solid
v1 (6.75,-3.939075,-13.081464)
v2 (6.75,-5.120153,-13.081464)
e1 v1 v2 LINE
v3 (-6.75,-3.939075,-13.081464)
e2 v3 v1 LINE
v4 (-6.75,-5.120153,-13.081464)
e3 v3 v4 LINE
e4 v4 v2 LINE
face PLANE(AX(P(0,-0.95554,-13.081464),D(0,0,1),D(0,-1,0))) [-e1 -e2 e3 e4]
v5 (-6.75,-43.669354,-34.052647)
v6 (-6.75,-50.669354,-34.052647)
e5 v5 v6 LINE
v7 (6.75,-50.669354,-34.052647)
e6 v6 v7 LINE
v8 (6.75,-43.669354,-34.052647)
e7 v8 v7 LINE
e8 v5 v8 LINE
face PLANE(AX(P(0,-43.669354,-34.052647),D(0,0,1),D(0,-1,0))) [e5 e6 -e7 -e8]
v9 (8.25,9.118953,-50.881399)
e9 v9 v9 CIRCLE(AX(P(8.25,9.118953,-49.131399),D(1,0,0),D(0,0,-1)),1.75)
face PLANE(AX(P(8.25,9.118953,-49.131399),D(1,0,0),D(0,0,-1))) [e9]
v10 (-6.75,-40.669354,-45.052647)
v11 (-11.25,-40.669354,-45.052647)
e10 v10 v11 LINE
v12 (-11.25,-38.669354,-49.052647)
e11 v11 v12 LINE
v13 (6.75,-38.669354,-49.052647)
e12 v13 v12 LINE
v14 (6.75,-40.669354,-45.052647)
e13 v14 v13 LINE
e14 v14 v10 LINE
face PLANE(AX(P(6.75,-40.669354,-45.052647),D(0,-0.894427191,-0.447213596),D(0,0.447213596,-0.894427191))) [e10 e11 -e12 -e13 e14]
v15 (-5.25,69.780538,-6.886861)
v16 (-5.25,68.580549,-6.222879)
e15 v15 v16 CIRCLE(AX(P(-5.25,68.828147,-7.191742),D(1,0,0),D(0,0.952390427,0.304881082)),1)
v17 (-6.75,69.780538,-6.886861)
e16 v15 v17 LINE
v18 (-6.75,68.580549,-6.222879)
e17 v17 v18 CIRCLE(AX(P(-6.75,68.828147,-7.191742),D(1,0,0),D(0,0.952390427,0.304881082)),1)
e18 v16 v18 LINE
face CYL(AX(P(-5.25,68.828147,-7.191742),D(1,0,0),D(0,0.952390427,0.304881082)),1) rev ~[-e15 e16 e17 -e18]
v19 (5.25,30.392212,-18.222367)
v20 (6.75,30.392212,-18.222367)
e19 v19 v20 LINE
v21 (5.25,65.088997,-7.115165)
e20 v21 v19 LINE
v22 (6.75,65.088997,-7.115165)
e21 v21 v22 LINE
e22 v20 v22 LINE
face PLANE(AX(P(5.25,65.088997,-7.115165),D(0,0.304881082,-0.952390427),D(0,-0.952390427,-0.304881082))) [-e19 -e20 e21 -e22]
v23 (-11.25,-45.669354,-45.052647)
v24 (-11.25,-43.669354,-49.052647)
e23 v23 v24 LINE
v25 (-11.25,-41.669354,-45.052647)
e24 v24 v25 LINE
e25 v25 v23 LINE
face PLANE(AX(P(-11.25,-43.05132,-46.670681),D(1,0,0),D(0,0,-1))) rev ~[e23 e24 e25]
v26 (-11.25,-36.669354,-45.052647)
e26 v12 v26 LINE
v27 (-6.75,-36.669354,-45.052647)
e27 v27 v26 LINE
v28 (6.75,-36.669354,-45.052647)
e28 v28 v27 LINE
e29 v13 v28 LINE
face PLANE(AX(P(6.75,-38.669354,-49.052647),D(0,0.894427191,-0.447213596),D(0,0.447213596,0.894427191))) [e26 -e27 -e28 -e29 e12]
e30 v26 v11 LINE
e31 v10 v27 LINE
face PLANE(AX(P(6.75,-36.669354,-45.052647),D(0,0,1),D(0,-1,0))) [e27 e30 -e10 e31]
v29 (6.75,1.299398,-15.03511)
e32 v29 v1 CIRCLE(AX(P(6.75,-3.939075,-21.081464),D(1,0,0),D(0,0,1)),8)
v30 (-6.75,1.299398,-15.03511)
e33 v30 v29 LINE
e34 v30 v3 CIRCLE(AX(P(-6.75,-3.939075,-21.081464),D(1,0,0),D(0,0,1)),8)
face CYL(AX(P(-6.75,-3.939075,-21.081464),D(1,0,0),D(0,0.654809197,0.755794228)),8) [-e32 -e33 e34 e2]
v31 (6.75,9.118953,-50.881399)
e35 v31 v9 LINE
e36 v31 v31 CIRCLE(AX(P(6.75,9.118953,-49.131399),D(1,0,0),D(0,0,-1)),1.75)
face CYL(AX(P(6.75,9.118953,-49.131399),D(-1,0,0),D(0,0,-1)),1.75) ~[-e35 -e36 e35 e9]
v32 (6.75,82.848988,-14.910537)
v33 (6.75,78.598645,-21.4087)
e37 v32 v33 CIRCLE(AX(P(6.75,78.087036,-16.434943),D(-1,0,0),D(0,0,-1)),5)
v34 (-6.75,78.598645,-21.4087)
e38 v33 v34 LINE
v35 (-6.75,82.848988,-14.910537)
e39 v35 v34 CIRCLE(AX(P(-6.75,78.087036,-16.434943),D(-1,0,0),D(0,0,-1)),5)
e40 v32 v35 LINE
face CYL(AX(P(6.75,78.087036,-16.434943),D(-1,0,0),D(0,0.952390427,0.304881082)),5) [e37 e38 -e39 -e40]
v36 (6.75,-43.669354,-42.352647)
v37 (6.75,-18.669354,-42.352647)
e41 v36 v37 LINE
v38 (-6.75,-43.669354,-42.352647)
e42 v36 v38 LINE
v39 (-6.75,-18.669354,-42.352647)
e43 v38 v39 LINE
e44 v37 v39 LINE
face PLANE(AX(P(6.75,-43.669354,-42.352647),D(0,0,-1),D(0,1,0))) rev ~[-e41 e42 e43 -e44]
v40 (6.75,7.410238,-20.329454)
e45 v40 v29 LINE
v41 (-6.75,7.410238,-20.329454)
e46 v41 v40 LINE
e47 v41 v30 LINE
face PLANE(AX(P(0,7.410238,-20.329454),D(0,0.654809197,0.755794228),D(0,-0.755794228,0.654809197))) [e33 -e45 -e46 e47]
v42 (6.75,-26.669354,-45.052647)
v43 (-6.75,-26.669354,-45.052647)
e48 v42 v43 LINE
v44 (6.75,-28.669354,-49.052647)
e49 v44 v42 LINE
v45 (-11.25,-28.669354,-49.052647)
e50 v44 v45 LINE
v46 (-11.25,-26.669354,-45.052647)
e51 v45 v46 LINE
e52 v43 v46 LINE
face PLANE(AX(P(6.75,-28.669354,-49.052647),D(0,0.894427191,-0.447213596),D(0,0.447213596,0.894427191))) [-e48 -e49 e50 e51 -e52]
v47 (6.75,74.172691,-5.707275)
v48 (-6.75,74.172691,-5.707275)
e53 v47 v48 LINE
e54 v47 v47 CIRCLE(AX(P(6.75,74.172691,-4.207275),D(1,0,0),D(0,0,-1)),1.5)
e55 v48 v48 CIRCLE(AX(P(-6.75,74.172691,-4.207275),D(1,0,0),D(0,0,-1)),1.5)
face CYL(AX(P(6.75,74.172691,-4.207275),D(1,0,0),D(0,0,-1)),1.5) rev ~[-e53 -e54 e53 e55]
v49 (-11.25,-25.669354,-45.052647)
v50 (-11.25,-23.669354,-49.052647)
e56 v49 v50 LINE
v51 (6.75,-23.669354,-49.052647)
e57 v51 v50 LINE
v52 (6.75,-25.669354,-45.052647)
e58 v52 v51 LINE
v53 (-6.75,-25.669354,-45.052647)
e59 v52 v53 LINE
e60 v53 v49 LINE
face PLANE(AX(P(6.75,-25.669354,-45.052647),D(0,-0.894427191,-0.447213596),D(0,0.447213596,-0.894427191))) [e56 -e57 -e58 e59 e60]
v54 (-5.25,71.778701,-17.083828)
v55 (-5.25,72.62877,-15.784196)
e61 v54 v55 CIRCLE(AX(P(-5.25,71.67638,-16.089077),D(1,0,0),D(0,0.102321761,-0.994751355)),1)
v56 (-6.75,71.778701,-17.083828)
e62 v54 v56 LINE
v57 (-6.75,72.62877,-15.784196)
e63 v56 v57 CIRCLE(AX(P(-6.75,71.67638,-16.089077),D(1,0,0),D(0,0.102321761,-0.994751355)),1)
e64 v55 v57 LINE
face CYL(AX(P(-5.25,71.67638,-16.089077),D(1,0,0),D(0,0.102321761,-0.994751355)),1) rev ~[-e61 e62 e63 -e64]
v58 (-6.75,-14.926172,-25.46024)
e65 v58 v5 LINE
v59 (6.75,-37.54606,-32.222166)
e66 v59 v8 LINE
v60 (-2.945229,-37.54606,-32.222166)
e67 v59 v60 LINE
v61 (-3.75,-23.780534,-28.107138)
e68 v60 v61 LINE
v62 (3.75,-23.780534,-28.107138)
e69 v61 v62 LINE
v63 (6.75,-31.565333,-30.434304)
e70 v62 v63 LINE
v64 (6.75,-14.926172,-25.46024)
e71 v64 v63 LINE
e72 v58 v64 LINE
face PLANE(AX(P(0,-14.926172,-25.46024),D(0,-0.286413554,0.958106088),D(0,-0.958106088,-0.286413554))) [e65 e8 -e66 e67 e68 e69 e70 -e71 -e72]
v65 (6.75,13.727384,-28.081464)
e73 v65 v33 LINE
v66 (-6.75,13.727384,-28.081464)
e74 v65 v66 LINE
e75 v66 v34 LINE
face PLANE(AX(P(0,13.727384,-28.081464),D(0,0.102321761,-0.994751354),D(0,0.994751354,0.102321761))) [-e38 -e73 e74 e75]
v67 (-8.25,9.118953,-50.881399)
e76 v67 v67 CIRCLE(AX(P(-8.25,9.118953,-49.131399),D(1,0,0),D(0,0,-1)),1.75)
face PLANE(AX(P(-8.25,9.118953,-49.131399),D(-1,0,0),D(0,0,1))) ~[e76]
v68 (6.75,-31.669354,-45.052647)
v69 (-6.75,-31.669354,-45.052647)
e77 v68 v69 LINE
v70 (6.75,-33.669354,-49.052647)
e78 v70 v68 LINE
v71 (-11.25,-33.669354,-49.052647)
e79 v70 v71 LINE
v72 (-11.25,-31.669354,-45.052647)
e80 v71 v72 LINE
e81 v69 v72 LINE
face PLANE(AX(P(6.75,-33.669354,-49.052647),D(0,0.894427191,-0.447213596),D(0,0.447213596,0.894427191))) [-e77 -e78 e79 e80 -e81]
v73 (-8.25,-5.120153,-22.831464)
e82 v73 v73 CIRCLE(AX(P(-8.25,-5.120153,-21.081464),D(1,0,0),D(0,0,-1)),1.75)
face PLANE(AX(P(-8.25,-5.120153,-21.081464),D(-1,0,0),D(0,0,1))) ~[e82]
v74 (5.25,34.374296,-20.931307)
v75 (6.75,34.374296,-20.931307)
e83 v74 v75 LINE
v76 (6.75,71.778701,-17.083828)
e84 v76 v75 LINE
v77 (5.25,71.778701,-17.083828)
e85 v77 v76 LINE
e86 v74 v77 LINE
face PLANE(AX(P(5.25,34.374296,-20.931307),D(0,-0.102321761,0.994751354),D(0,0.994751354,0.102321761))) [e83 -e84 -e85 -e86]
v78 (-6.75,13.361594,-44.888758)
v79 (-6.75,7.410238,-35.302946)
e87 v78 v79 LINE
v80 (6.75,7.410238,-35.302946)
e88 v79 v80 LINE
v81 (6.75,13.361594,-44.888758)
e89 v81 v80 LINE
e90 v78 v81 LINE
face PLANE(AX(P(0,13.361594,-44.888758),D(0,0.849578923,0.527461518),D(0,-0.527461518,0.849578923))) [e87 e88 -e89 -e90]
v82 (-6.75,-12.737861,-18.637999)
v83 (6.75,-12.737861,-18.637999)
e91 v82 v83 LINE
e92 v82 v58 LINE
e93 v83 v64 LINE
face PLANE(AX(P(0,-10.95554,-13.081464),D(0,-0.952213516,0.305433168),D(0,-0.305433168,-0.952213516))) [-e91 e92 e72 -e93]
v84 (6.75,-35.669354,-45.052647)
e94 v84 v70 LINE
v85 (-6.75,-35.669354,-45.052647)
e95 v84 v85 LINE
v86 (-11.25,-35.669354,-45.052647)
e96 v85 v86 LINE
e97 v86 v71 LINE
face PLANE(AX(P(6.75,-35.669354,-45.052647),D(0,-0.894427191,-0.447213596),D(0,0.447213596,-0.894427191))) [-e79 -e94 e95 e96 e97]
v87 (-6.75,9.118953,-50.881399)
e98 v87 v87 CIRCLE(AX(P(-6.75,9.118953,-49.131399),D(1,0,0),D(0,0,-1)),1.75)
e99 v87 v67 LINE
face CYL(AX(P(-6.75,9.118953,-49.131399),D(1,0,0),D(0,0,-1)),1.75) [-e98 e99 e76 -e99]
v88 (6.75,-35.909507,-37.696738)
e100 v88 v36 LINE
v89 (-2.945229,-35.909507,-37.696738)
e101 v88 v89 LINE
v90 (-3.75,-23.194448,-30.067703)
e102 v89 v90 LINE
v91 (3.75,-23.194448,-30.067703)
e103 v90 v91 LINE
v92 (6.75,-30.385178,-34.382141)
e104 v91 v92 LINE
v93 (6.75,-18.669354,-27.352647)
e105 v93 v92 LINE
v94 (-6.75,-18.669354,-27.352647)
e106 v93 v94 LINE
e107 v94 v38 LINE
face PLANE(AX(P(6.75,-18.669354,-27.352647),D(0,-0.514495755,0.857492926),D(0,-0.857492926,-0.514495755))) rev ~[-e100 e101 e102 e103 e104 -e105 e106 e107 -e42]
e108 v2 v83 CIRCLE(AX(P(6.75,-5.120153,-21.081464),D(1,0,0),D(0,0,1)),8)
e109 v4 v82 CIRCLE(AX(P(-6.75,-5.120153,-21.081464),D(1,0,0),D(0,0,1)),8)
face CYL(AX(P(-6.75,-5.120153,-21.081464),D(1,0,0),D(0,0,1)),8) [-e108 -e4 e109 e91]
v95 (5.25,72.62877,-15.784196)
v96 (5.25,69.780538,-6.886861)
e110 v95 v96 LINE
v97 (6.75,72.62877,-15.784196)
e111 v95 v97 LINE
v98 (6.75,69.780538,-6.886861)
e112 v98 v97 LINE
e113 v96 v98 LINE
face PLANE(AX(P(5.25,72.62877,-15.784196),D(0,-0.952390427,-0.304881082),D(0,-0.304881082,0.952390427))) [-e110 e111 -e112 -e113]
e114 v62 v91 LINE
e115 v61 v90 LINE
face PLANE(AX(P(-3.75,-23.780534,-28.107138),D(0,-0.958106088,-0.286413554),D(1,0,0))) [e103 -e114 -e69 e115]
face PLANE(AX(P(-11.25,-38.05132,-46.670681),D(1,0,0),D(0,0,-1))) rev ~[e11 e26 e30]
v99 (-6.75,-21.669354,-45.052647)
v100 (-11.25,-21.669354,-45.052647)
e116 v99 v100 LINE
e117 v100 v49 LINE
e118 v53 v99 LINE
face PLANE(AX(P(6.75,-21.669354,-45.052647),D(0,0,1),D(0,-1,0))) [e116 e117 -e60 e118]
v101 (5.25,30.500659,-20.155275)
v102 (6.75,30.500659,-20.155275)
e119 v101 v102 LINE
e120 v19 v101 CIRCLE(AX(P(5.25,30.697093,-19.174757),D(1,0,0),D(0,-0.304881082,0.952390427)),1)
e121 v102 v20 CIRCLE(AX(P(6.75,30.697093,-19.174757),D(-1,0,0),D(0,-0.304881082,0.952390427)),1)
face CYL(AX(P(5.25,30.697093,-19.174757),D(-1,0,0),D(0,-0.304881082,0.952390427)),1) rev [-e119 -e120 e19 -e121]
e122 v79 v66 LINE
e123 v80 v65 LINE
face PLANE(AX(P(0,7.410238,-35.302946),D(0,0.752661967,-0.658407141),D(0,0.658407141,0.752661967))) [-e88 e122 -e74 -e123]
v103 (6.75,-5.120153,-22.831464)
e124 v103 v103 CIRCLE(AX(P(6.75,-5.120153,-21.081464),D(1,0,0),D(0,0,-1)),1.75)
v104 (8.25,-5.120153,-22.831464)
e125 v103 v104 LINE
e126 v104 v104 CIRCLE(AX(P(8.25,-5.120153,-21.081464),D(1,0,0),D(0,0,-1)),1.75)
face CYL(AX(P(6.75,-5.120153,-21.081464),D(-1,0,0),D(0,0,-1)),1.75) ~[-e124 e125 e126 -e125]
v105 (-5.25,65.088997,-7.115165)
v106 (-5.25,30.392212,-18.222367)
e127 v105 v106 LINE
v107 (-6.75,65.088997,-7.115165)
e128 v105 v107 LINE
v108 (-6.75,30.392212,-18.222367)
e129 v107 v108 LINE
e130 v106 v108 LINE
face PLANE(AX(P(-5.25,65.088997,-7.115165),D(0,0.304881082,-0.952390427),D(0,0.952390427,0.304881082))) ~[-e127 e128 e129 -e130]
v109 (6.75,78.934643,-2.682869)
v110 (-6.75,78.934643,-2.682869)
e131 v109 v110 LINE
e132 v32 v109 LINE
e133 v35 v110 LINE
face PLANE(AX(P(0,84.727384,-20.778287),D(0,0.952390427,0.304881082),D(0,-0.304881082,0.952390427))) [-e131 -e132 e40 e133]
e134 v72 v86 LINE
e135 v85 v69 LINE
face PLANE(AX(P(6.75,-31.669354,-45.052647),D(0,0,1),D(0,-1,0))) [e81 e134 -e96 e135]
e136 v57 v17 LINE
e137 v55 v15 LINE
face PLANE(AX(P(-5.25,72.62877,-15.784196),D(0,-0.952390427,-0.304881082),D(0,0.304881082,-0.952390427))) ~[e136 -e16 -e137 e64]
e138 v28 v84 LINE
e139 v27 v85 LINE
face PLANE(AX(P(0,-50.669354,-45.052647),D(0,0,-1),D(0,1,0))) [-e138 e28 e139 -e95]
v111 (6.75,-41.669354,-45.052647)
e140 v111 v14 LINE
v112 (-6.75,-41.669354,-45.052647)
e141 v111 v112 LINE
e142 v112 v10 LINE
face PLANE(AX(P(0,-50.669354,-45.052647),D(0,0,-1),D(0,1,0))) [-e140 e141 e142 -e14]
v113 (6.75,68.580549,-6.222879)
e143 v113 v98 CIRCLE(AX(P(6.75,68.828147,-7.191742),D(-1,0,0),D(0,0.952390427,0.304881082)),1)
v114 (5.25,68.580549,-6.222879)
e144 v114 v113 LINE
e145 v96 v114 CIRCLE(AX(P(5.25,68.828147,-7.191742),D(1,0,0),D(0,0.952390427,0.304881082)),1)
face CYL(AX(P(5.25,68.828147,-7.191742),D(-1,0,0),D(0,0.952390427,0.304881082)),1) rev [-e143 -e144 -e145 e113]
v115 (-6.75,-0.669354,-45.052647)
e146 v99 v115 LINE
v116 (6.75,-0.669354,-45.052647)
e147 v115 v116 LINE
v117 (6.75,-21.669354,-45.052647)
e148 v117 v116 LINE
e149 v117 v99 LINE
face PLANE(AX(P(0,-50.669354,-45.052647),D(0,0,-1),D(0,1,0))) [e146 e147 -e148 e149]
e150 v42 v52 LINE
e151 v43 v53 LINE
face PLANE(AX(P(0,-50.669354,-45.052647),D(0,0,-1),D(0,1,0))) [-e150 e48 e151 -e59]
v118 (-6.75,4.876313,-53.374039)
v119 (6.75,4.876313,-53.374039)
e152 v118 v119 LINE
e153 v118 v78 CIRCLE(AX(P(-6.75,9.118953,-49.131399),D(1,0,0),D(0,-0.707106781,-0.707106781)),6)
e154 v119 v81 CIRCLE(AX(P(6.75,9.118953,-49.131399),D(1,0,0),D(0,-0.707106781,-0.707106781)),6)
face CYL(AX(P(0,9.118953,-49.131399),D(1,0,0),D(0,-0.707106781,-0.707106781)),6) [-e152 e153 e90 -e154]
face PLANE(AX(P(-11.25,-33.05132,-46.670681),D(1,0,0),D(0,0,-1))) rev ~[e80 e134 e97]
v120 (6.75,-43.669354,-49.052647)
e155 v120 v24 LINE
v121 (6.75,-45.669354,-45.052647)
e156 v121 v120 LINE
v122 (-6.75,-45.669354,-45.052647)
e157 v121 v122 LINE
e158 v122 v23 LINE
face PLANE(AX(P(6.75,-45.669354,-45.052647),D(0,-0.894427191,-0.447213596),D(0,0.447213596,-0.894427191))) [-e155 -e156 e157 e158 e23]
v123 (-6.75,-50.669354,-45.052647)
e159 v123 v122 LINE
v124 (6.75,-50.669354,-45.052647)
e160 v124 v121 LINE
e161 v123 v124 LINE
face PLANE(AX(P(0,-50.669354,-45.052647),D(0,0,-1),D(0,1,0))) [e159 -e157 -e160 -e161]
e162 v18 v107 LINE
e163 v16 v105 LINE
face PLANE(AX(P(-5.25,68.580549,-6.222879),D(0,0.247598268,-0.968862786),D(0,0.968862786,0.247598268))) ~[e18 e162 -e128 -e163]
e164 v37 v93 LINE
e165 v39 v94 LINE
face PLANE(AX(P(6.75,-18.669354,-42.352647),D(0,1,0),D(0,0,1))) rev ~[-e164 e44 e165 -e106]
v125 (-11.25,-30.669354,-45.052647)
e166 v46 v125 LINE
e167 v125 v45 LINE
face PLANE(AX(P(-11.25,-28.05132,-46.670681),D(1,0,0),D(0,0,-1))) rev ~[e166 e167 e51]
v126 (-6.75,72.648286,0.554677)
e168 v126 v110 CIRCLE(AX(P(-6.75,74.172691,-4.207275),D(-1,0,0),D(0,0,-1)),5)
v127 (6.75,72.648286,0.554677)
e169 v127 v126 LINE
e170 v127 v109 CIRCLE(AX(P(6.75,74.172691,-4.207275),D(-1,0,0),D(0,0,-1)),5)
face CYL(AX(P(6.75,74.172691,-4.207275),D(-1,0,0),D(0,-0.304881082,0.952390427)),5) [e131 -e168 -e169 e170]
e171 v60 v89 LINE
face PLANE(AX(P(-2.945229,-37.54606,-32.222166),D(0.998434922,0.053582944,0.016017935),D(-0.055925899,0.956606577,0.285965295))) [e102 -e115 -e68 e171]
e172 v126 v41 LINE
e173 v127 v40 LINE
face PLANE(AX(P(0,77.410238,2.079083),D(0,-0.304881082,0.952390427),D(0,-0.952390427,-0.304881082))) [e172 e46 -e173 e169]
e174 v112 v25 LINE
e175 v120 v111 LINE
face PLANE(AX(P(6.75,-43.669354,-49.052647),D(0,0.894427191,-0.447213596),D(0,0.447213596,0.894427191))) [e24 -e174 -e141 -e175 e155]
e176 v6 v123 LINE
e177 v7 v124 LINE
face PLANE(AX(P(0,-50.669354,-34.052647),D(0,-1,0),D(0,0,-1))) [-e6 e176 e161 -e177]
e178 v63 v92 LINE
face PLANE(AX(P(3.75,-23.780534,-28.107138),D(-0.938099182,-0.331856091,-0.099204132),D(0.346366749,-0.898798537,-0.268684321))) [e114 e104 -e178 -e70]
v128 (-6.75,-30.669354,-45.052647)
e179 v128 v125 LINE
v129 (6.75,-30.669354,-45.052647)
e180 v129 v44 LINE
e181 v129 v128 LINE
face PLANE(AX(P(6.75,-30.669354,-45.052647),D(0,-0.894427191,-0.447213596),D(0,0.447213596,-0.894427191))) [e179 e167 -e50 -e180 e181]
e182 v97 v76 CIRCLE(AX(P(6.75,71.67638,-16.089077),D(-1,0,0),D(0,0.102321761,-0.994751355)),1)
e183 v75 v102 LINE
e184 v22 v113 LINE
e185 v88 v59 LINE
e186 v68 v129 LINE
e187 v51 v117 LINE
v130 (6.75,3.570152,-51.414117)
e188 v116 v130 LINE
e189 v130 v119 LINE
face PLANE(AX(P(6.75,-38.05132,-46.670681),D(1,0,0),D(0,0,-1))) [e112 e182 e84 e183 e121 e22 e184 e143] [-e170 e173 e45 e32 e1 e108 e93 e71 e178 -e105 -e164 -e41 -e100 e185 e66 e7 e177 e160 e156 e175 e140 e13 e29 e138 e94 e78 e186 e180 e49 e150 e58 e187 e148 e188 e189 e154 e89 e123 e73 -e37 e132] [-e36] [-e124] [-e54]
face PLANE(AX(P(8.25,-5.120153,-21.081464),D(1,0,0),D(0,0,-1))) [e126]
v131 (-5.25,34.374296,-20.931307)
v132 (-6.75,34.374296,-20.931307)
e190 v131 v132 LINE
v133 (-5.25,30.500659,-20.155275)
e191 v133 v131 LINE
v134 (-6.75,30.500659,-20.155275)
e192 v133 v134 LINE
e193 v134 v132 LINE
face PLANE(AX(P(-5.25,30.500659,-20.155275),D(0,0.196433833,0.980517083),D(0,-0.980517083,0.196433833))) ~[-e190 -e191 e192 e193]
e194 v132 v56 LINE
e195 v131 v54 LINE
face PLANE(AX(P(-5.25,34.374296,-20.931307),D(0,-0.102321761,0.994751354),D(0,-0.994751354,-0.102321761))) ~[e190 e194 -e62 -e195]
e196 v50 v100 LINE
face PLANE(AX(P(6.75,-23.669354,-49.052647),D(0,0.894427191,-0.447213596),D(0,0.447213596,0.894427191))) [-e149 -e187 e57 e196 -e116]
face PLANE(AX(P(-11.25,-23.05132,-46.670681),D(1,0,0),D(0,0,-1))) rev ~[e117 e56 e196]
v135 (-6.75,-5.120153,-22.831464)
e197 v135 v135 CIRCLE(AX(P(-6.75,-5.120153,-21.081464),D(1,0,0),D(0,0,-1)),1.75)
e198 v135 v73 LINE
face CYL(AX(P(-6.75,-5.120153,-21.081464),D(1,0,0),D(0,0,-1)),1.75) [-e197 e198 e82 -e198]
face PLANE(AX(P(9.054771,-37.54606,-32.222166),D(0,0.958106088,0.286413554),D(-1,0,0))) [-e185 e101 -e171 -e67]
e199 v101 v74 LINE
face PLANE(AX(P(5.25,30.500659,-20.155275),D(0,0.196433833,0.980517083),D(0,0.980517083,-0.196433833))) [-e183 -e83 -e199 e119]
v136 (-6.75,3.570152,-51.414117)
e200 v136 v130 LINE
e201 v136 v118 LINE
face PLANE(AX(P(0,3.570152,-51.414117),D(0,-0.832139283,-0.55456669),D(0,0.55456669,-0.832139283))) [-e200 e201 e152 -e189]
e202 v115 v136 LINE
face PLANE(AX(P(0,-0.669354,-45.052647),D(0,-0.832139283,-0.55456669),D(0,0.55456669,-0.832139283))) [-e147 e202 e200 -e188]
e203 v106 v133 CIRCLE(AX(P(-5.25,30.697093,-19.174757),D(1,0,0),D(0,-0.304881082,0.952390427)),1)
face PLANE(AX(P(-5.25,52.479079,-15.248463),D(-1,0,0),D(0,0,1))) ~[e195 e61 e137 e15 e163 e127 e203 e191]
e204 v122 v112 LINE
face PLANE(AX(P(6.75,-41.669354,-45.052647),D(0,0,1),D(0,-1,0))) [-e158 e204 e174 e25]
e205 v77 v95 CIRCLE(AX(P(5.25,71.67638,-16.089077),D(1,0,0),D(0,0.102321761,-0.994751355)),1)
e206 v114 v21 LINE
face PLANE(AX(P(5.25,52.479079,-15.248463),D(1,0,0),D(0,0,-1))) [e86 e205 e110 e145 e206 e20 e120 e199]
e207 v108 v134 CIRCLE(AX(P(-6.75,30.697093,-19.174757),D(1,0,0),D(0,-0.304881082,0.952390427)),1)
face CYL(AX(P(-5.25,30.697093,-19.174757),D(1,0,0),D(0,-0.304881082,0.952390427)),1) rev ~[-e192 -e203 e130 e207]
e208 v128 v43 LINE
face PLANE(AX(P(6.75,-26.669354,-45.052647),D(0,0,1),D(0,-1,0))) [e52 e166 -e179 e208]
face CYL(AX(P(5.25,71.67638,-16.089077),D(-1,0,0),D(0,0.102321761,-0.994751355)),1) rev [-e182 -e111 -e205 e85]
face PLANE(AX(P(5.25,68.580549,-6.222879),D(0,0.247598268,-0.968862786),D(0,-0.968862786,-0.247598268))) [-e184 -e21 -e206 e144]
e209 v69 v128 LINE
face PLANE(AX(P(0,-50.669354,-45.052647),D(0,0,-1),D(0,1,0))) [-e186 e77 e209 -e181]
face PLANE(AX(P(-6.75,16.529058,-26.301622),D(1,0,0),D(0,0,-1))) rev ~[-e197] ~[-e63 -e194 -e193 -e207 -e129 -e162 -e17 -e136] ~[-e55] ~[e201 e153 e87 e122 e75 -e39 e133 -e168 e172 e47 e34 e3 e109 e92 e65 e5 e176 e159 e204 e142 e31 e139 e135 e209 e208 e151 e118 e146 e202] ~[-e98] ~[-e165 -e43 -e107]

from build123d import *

# Parameters (mm, degrees)
BOSS_EXTRUDE2_DEPTH = 6.75
CUT_EXTRUDE1_DEPTH  = 102.982599985
BOSS_EXTRUDE3_DEPTH = 18
LPATTERN1_COUNT     = 5
LPATTERN1_PITCH     = 5
FILLET1_R           = 8
FILLET2_R           = 5
SKETCH6_R           = 1.5
CUT_EXTRUDE2_DEPTH  = 102.325844179
CUT_EXTRUDE4_DEPTH  = 8
SKETCH9_R           = 1.75
BOSS_EXTRUDE4_DEPTH = 1.5
SKETCH10_R          = 1.75
BOSS_EXTRUDE5_DEPTH = 1.5
CUT_EXTRUDE6_START  = -1.5
CUT_EXTRUDE6_DEPTH  = 103.825844179


with BuildPart() as part:
    # Sketch2 → Boss-Extrude2 (new, symmetric)
    with BuildSketch(Plane(origin=(0, 0, 0), x_dir=(0, 0, -1), z_dir=(1, 0, 0))):
        with BuildLine():
            Line((-2.079082888, 77.410237912), (20.329453697, 7.410237912))
            Line((20.329453697, 7.410237912), (13.081464201, -0.95554047))
            Line((13.081464201, -0.95554047), (13.081464201, -10.95554047))
            Line((13.081464201, -10.95554047), (25.46023991, -14.926171648))
            Line((25.46023991, -14.926171648), (34.052646544, -43.669354287))
            Line((34.052646544, -43.669354287), (34.052646544, -50.669354287))
            Line((34.052646544, -50.669354287), (45.052646544, -50.669354287))
            Line((45.052646544, -50.669354287), (45.052646544, -0.669354287))
            Line((45.052646544, -0.669354287), (51.414117074, 3.570151924))
            Line((51.414117074, 3.570151924), (53.374039372, 4.876312617))
            ThreePointArc((53.374039372, 4.876312617), (53.374039372, 13.361593991), (44.888757997, 13.361593991))
            Line((44.888757997, 13.361593991), (35.302946487, 7.410237912))
            Line((35.302946487, 7.410237912), (28.081464201, 13.727383878))
            Line((28.081464201, 13.727383878), (20.778287365, 84.727383878))
            Line((20.778287365, 84.727383878), (-2.079082888, 77.410237912))
        make_face()
    extrude(amount=BOSS_EXTRUDE2_DEPTH, both=True)

    # Sketch4 → Cut-Extrude1 (cut, through all)
    with BuildSketch(Plane(origin=(6.75, 0, 0), x_dir=(0, 0, -1), z_dir=(1, 0, 0))):
        Polygon((42.352646544, -43.669354287), (42.352646544, -18.669354287), (27.352646544, -18.669354287), align=None)
    extrude(amount=-CUT_EXTRUDE1_DEPTH, mode=Mode.SUBTRACT)

    # Sketch5 → Boss-Extrude3 (add)
    with BuildSketch(Plane(origin=(6.75, 0, 0), x_dir=(0, 0, -1), z_dir=(1, 0, 0))):
        Polygon((49.052646544, -43.669354287), (45.052646544, -41.669354287), (45.052646544, -43.669354287), align=None)
        Polygon((49.052646544, -43.669354287), (45.052646544, -43.669354287), (45.052646544, -45.669354287), align=None)
    boss_extrude3 = extrude(amount=-BOSS_EXTRUDE3_DEPTH)

    # LPattern1: Boss-Extrude3 ×5
    with Locations(*[(0, i * LPATTERN1_PITCH, 0) for i in range(1, LPATTERN1_COUNT)]):
        add(boss_extrude3)

    # Fillet1
    fillet1_edges = [part.edges().sort_by_distance(p)[0] for p in [
        (0, -10.95554047, -13.081464201),
        (0, -0.95554047, -13.081464201),
    ]]
    fillet(fillet1_edges, radius=FILLET1_R)

    # Fillet2
    fillet2_edges = [part.edges().sort_by_distance(p)[0] for p in [
        (0, 77.410237912, 2.079082888),
        (0, 84.727383878, -20.778287365),
    ]]
    fillet(fillet2_edges, radius=FILLET2_R)

    # Sketch6 → Cut-Extrude2 (cut, through all)
    with BuildSketch(Plane(origin=(6.75, 0, 0), x_dir=(0, 0, -1), z_dir=(1, 0, 0))):
        with Locations((4.207274657, 74.172691185)):
            Circle(SKETCH6_R)
    extrude(amount=-CUT_EXTRUDE2_DEPTH, mode=Mode.SUBTRACT)

    # Sketch8 → Cut-Extrude4 (cut)
    with BuildSketch(Plane(origin=(0, 5.762226271, -19.275708093), x_dir=(1, 0, 0), z_dir=(0, -0.28641355449068423, 0.9581060879693918))):
        Polygon((-3.75, -30.834539791), (3.75, -30.834539791), (9.054771206, -45.201974161), (-2.945228794, -45.201974161), align=None)
    extrude(amount=-CUT_EXTRUDE4_DEPTH, mode=Mode.SUBTRACT)

    # Sketch9 → Boss-Extrude4 (add)
    with BuildSketch(Plane(origin=(6.75, 0, 0), x_dir=(0, 0, -1), z_dir=(1, 0, 0))):
        with Locations((49.131398685, 9.118953304)):
            Circle(SKETCH9_R)
    boss_extrude4 = extrude(amount=BOSS_EXTRUDE4_DEPTH)

    # Sketch10 → Boss-Extrude5 (add)
    with BuildSketch(Plane(origin=(6.75, 0, 0), x_dir=(0, 0, -1), z_dir=(1, 0, 0))):
        with Locations((21.081464201, -5.120153169)):
            Circle(SKETCH10_R)
    boss_extrude5 = extrude(amount=BOSS_EXTRUDE5_DEPTH)

    # Sketch11 → Cut-Extrude6 (cut)
    with BuildSketch(Plane(origin=(6.75, 0, 0), x_dir=(0, 0, -1), z_dir=(1, 0, 0)).offset(CUT_EXTRUDE6_START)):
        with BuildLine():
            Line((15.78419602, 72.628770071), (6.886860744, 69.780537742))
            ThreePointArc((6.886860744, 69.780537742), (6.316756639, 69.312297005), (6.22287904, 68.580549047))
            Line((6.22287904, 68.580549047), (7.115164558, 65.08899702))
            Line((7.115164558, 65.08899702), (18.222367047, 30.392212101))
            ThreePointArc((18.222367047, 30.392212101), (19.230775138, 29.698663405), (20.155274557, 30.50065935))
            Line((20.155274557, 30.50065935), (20.931307176, 34.374295724))
            Line((20.931307176, 34.374295724), (17.083828456, 71.778701405))
            ThreePointArc((17.083828456, 71.778701405), (16.636465842, 72.51325811), (15.78419602, 72.628770071))
        make_face()
    cut_extrude6 = extrude(amount=CUT_EXTRUDE6_DEPTH, mode=Mode.SUBTRACT)

    # Mirror1: Boss-Extrude4, Boss-Extrude5, Cut-Extrude6 across plane
    add(boss_extrude4.mirror(Plane(origin=(0, 0, 0), x_dir=(0, 0, 1), z_dir=(1, 0, 0))))
    add(boss_extrude5.mirror(Plane(origin=(0, 0, 0), x_dir=(0, 0, 1), z_dir=(1, 0, 0))))
    add(cut_extrude6.mirror(Plane(origin=(0, 0, 0), x_dir=(0, 0, 1), z_dir=(1, 0, 0))), mode=Mode.SUBTRACT)


solid = part.part
